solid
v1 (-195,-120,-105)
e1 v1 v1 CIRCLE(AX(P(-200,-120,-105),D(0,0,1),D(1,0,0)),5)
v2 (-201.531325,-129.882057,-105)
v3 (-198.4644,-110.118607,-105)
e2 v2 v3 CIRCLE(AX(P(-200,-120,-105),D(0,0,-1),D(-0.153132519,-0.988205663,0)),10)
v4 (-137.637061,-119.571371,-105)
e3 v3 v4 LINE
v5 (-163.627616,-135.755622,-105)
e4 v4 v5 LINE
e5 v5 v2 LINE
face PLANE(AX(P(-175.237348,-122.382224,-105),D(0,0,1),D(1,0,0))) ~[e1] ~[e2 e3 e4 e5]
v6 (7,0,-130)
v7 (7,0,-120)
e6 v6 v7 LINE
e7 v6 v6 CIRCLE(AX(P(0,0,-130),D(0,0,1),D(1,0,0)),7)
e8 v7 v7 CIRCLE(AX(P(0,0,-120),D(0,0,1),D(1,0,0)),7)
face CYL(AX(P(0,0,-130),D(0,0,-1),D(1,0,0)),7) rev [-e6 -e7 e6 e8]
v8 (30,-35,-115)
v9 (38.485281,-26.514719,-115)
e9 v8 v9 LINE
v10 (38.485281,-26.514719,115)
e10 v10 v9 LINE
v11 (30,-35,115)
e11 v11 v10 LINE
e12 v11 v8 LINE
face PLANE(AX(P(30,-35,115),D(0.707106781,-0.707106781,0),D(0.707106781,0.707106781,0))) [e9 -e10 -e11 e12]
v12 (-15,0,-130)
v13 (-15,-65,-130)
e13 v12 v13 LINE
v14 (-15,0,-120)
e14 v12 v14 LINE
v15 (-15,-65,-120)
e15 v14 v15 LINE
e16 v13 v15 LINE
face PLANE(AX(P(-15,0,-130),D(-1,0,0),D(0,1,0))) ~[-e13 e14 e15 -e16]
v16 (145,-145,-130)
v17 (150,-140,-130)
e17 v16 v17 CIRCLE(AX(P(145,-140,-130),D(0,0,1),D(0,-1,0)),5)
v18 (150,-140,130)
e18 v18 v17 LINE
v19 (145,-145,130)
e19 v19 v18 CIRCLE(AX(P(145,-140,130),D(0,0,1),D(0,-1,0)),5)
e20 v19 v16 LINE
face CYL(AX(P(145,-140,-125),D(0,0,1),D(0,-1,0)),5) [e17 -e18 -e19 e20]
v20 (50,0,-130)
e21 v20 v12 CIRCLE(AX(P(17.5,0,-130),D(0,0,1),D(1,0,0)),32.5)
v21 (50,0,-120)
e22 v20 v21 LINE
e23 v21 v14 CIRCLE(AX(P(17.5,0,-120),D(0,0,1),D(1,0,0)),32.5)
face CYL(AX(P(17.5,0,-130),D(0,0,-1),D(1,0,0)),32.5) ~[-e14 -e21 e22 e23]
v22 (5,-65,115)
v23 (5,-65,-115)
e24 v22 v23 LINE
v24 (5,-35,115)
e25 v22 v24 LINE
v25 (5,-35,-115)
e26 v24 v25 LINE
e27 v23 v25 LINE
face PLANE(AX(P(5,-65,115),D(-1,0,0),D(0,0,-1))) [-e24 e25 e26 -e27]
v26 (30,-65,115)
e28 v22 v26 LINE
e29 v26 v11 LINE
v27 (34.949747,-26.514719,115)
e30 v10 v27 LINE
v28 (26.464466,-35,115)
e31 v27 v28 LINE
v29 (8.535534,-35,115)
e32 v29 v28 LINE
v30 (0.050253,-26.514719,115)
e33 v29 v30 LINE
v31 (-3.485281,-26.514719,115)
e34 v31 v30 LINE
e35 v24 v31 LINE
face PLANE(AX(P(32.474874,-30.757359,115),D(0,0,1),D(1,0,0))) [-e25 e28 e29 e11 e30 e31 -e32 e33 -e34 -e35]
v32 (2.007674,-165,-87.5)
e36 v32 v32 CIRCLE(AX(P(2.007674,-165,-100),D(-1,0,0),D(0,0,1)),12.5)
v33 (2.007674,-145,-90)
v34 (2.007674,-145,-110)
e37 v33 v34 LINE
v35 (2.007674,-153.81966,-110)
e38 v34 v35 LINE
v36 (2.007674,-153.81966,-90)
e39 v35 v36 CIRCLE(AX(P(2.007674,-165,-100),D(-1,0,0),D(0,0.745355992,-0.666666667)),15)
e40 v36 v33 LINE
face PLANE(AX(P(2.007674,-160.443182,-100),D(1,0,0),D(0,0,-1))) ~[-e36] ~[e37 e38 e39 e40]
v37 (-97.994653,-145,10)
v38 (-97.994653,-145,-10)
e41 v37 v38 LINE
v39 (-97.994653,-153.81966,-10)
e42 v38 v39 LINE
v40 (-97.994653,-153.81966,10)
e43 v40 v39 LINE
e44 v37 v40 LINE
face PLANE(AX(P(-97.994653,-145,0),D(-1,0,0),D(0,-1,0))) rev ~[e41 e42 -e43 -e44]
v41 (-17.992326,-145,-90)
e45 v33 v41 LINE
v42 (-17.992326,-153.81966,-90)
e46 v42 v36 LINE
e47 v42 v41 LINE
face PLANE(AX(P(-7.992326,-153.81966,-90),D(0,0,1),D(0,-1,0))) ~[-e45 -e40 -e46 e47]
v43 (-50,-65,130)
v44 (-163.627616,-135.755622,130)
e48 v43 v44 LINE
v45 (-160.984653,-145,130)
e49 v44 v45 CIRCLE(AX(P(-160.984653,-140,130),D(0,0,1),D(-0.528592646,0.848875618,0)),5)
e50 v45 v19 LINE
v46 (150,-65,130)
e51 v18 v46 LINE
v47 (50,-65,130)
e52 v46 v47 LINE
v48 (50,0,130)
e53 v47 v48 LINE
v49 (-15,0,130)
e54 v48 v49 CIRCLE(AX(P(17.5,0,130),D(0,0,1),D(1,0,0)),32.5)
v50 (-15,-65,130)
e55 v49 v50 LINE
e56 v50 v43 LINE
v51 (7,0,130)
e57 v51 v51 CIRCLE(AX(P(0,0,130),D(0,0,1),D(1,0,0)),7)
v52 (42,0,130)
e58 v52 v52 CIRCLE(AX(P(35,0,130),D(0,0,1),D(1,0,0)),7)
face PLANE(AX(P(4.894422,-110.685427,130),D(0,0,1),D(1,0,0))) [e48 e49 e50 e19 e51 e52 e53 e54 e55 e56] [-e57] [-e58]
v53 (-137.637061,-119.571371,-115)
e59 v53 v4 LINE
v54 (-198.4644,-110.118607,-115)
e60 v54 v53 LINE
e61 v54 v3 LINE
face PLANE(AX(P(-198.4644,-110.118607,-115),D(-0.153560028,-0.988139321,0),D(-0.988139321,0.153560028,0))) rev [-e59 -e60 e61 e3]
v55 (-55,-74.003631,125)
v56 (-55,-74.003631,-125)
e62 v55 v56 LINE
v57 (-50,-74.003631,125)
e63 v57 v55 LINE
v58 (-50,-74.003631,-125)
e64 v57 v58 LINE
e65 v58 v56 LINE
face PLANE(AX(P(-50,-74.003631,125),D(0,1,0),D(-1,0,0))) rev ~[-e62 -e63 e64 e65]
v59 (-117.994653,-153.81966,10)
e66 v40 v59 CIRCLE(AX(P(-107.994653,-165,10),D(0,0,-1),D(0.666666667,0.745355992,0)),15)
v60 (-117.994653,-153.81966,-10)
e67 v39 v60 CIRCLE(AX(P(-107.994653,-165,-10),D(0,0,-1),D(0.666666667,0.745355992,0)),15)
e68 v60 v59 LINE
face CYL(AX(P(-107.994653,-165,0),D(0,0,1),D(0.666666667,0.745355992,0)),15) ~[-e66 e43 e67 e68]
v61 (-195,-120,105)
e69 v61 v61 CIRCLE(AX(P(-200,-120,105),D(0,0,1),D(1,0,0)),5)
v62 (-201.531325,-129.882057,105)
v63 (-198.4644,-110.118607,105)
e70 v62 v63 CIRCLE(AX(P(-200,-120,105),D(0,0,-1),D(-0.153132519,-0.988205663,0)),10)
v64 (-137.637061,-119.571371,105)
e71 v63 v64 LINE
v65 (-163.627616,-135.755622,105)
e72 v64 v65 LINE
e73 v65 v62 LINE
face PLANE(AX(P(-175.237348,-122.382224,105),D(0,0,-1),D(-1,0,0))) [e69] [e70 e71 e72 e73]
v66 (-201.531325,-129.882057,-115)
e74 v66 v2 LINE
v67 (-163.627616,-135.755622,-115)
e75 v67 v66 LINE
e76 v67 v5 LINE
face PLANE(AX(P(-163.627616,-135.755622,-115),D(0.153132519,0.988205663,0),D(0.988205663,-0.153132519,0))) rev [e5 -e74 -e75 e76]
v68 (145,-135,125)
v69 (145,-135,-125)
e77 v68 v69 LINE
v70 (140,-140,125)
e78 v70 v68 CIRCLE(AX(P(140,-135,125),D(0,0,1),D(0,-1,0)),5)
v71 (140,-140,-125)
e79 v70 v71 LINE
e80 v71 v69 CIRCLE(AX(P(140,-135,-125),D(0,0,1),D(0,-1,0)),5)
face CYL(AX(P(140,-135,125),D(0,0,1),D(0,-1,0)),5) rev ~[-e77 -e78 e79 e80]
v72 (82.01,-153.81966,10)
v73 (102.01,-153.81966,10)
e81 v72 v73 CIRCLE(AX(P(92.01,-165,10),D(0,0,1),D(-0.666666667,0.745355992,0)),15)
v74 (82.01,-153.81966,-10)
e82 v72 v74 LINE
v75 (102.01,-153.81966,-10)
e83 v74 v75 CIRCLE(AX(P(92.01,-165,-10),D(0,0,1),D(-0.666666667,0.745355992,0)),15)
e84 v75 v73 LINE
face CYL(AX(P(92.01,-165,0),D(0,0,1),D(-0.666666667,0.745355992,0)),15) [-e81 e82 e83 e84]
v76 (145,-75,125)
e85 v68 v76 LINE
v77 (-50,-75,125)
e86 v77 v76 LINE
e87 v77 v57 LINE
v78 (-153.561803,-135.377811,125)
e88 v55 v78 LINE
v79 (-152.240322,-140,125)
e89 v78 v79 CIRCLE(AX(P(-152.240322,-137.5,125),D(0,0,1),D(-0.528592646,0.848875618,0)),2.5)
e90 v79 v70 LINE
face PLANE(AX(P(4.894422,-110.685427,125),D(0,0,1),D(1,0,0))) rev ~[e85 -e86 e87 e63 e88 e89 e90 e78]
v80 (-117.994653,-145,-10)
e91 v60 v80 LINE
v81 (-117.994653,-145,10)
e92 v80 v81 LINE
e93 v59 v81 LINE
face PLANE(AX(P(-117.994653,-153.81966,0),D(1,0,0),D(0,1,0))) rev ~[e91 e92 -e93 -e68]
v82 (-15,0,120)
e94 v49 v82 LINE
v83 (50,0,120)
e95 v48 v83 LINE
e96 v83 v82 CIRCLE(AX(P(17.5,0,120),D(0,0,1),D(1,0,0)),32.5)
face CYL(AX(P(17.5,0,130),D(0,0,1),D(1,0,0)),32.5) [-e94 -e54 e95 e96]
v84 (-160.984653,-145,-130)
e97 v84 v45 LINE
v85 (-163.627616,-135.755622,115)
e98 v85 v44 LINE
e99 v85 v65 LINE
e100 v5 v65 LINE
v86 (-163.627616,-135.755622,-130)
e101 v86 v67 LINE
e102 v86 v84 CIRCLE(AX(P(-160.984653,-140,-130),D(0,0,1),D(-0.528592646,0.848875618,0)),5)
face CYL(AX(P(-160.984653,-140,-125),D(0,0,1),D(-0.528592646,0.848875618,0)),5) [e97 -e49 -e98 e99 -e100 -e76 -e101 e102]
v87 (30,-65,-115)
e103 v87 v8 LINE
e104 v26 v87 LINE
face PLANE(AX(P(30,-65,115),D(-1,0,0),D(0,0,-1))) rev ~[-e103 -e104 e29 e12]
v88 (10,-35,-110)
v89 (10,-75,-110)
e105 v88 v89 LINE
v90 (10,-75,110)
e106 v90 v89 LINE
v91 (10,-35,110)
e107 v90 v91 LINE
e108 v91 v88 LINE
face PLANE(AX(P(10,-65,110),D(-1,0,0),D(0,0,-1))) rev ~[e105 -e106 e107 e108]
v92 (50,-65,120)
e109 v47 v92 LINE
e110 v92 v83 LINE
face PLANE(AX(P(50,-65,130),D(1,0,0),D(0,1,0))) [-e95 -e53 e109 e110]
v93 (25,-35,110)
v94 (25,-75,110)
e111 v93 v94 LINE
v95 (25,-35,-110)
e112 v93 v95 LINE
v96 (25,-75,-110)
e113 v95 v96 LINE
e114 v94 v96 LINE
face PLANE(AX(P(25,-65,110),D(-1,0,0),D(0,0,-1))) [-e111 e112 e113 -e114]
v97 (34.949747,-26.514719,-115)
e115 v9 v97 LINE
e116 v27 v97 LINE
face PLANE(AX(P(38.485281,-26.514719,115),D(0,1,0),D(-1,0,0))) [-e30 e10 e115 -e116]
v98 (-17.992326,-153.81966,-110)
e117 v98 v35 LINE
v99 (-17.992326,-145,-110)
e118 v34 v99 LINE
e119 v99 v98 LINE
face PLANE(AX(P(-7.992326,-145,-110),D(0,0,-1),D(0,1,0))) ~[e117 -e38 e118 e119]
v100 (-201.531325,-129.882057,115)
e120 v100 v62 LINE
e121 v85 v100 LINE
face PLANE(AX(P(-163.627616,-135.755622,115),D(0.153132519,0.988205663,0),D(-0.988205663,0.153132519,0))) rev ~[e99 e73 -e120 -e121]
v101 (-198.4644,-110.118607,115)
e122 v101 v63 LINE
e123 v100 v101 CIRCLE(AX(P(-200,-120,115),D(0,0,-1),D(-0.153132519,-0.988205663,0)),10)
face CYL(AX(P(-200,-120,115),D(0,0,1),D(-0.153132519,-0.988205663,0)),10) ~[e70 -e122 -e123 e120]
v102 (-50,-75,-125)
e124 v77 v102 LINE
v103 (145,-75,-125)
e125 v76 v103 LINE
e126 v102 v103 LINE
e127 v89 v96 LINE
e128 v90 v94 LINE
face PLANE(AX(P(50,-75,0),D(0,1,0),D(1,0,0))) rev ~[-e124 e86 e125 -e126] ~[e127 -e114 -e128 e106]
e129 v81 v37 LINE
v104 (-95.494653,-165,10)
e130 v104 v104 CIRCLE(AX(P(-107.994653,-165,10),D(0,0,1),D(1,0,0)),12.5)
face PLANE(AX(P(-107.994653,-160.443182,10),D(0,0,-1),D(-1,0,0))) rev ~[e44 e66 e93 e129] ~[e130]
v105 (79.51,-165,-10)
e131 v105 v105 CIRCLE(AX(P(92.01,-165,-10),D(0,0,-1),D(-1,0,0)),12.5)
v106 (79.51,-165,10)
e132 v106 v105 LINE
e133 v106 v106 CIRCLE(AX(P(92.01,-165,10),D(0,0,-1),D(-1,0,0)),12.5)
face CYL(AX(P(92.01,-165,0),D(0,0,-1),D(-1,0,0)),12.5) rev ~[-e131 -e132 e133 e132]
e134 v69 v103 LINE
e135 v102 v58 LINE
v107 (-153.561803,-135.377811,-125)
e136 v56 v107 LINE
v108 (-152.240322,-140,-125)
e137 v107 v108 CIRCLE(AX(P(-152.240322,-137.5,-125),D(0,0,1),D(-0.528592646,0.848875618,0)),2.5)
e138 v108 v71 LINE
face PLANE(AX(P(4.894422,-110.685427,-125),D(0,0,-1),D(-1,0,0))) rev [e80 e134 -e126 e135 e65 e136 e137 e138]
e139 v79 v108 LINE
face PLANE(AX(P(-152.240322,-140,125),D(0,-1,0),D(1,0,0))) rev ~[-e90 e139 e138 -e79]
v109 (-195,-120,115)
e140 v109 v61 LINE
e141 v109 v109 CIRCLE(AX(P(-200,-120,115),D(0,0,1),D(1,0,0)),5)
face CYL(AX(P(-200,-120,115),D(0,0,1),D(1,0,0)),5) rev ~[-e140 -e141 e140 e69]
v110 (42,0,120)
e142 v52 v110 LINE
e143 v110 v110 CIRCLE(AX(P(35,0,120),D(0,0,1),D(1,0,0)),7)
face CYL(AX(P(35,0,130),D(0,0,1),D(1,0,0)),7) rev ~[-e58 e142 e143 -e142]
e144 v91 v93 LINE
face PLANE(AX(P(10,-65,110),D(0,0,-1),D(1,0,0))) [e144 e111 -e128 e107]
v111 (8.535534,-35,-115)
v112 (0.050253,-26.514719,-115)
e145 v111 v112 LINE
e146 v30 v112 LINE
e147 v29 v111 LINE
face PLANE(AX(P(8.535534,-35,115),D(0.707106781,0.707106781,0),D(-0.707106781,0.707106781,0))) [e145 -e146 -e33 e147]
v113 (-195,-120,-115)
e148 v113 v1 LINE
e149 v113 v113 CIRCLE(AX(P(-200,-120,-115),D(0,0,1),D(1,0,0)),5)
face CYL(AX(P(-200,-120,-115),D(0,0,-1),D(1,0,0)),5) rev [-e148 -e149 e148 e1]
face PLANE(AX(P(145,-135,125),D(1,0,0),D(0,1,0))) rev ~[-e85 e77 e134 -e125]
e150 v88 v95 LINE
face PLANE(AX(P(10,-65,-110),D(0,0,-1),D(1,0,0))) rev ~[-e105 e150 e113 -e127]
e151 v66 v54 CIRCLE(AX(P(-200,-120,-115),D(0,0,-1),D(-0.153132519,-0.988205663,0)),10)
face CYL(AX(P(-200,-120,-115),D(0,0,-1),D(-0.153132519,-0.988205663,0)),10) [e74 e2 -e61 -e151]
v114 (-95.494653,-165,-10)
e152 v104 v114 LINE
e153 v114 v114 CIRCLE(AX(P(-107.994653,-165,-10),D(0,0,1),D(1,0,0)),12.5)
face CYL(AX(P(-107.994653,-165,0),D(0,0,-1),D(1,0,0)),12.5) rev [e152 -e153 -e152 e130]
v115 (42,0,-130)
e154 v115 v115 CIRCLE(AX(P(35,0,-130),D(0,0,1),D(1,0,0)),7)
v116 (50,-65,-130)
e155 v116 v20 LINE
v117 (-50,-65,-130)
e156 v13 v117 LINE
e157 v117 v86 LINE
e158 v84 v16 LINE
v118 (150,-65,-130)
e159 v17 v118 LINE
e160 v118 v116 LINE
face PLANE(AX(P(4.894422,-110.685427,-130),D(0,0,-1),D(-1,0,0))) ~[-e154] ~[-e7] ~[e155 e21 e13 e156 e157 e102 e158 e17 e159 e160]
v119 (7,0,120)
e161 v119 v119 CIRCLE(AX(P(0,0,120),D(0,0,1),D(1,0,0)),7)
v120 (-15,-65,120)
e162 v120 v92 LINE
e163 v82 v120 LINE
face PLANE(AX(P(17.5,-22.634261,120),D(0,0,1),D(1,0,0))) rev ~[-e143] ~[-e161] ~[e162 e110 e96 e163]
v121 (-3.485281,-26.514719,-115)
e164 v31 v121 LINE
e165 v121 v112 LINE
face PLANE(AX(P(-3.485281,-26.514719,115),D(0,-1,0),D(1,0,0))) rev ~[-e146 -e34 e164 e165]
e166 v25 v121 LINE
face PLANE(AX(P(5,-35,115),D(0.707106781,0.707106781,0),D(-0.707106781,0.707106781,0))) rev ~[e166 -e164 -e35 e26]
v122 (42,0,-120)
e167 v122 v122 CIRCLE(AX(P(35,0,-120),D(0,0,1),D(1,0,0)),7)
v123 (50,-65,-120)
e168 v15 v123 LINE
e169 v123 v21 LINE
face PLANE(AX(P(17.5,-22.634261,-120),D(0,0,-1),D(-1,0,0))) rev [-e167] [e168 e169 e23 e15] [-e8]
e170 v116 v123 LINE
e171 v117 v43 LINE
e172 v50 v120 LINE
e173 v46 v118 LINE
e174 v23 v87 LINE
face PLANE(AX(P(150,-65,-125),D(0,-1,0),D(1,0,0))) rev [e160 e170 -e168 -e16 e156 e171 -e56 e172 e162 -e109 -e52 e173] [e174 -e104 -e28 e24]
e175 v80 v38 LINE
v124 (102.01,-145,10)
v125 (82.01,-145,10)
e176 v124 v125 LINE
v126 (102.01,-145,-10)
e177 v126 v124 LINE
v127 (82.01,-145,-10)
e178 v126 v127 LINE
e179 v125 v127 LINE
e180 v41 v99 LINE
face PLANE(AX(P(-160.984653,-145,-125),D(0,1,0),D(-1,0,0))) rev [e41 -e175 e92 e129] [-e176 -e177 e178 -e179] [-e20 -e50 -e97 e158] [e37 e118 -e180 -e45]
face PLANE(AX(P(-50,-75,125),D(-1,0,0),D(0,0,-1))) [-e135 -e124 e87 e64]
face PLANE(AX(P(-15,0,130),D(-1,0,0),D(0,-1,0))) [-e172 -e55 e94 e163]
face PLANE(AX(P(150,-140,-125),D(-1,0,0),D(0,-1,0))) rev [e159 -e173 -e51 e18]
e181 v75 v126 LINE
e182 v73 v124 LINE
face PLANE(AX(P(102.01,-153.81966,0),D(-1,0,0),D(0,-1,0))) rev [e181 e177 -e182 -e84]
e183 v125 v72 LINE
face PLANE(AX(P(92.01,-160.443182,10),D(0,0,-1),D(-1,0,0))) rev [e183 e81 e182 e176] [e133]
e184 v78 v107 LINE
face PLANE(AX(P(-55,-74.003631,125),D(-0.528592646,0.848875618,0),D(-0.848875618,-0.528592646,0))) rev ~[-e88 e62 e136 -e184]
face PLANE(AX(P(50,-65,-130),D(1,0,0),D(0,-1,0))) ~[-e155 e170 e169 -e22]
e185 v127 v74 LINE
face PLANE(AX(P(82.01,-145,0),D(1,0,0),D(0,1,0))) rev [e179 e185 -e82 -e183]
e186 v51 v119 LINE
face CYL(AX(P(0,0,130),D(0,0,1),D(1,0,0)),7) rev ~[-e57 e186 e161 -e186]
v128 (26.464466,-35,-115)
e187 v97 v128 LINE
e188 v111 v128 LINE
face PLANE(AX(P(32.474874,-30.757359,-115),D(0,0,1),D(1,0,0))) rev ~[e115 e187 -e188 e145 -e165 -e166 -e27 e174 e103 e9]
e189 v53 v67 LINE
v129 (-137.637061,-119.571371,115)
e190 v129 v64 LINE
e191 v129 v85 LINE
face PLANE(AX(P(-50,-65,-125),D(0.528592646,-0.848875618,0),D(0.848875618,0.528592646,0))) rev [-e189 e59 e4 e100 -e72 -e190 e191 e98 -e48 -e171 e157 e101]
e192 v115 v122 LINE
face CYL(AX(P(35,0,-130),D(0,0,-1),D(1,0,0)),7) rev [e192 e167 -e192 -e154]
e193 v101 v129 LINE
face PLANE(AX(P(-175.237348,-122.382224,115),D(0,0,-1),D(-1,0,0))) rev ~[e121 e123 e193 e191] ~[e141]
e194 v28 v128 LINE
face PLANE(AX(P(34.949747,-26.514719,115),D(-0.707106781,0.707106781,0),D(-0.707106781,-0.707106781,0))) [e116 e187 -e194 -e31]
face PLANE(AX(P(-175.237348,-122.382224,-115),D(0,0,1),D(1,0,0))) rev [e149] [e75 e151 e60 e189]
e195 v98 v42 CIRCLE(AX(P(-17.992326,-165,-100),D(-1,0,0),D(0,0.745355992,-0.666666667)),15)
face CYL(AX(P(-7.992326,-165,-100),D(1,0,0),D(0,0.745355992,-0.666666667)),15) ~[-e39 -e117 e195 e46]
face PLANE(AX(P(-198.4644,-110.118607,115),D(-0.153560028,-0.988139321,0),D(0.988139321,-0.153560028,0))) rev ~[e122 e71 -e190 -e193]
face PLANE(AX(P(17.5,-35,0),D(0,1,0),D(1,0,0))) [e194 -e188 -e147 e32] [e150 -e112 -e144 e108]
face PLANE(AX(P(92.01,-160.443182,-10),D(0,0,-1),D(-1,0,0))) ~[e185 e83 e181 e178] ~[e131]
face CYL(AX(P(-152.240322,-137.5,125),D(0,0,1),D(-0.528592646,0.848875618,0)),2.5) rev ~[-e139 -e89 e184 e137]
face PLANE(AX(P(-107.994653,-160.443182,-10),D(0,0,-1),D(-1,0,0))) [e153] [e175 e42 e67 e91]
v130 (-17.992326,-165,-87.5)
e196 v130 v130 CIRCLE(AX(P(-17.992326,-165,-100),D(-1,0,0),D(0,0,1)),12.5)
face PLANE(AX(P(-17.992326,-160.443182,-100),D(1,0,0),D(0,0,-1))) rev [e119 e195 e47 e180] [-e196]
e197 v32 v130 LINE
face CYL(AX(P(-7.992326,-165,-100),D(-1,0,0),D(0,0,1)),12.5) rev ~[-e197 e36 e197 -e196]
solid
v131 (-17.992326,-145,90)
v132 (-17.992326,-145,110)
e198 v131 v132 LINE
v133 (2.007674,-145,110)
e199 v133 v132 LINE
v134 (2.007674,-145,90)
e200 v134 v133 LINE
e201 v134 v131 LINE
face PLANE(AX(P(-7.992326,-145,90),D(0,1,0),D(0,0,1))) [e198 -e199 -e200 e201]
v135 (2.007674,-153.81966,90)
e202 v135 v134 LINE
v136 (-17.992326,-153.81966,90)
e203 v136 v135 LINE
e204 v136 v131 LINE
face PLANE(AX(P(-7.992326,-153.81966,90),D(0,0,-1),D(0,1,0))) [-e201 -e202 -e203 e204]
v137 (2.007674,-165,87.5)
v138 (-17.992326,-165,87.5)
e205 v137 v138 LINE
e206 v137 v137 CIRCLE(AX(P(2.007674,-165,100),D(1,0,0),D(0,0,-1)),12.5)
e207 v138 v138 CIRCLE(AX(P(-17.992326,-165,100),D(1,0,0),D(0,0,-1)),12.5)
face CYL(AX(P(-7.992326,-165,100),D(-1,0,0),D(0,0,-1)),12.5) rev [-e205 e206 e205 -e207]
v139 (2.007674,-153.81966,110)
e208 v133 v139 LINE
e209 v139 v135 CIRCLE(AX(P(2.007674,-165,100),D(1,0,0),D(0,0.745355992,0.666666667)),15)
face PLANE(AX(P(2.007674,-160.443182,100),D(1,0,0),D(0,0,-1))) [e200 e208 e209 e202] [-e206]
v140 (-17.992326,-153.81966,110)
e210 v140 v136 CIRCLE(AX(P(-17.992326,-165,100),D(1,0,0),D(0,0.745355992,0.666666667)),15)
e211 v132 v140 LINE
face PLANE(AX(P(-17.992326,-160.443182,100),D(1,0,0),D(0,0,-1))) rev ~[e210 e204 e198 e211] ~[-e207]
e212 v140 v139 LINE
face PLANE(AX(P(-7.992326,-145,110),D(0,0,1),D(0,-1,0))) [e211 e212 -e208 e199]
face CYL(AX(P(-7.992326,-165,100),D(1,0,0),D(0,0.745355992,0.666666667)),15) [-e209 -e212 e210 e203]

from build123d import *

# Parameters (mm, degrees)
SKETCH5_W            = 200
SKETCH5_H            = 250
SKETCH5_W_2          = 15
SKETCH5_H_2          = 220
BOSS_EXTRUDE7_DEPTH  = 10
BOSS_EXTRUDE13_DEPTH = 250
BOSS_EXTRUDE14_DEPTH = 5
SKETCH8_W            = 25
SKETCH8_H            = 230
SKETCH8_W_2          = 15
SKETCH8_H_2          = 220
BOSS_EXTRUDE15_DEPTH = 30
BOSS_EXTRUDE16_DEPTH = 230
SKETCH11_R           = 7
BOSS_EXTRUDE17_DEPTH = 10
SKETCH12_R           = 5
BOSS_EXTRUDE18_DEPTH = 10
SKETCH14_R           = 12.5
BOSS_EXTRUDE20_DEPTH = 10
SKETCH18_R           = 12.5
BOSS_EXTRUDE21_DEPTH = 10


with BuildPart() as part:
    # Sketch5 → Boss-Extrude7 (new body)
    with BuildSketch(Plane(origin=(0, -75, 0), x_dir=(1, 0, 0), z_dir=(0, 1, 0))):
        with Locations((50, 0)):
            Rectangle(SKETCH5_W, SKETCH5_H)
        with Locations((17.5, 0)):
            Rectangle(SKETCH5_W_2, SKETCH5_H_2, mode=Mode.SUBTRACT)
    extrude(amount=BOSS_EXTRUDE7_DEPTH)



with BuildPart() as body_2:
    # Sketch6 → Boss-Extrude13 (new body)
    with BuildSketch(Plane.XY.offset(125)):
        with BuildLine():
            Line((150, -75), (150, -140))
            ThreePointArc((150, -140), (148.535533906, -143.535533906), (145, -145))
            Line((145, -145), (-160.984652809, -145))
            ThreePointArc((-160.984652809, -145), (-165.792037256, -141.374428892), (-163.627616041, -135.755621912))
            Line((-163.627616041, -135.755621912), (-50, -65))
            Line((-50, -65), (-50, -74.003631477))
            Line((-50, -74.003631477), (-55, -74.003631477))
            Line((-55, -74.003631477), (-153.561803461, -135.377810956))
            ThreePointArc((-153.561803461, -135.377810956), (-154.644014069, -138.187214446), (-152.240321845, -140))
            Line((-152.240321845, -140), (140, -140))
            ThreePointArc((140, -140), (143.535533906, -138.535533906), (145, -135))
            Line((145, -135), (145, -75))
            Line((145, -75), (150, -75))
        make_face()
    extrude(amount=-BOSS_EXTRUDE13_DEPTH)


with BuildPart() as part_1:
    add(part.part)

    add(body_2.part)  # Boss-Extrude14 merges body 2
    # Sketch7 → Boss-Extrude14 (add)
    with BuildSketch(Plane.XY.offset(125)):
        with BuildLine():
            Line((150, -65), (-50, -65))
            Line((-50, -65), (-163.627616041, -135.755621912))
            ThreePointArc((-163.627616041, -135.755621912), (-165.792037256, -141.374428892), (-160.984652809, -145))
            Line((-160.984652809, -145), (145, -145))
            ThreePointArc((145, -145), (148.535533906, -143.535533906), (150, -140))
            Line((150, -140), (150, -65))
        make_face()
    boss_extrude14 = extrude(amount=BOSS_EXTRUDE14_DEPTH)

    # Mirror1: Boss-Extrude14 across plane
    add(boss_extrude14.mirror(Plane.XY))

    # Sketch8 → Boss-Extrude15 (add)
    with BuildSketch(Plane(origin=(0, -65, 0), x_dir=(1, 0, 0), z_dir=(0, 1, 0))):
        with Locations((17.5, 0)):
            Rectangle(SKETCH8_W, SKETCH8_H)
        with Locations((17.5, 0)):
            Rectangle(SKETCH8_W_2, SKETCH8_H_2, mode=Mode.SUBTRACT)
    extrude(amount=BOSS_EXTRUDE15_DEPTH)

    # Sketch9 → Boss-Extrude16 (add)
    with BuildSketch(Plane.XY.offset(115)):
        Polygon((30, -35), (38.485281374, -26.514718626), (34.949747468, -26.514718626), (30, -31.464466094), (26.464466094, -35), align=None)
        Polygon((5, -35), (-3.485281374, -26.514718626), (0.050252532, -26.514718626), (5, -31.464466094), (8.535533906, -35), align=None)
    extrude(amount=-BOSS_EXTRUDE16_DEPTH)

    # Sketch11 → Boss-Extrude17 (add)
    with BuildSketch(Plane.XY.offset(130)):
        with BuildLine():
            Line((-15, -65), (50, -65))
            Line((50, -65), (50, 0))
            ThreePointArc((50, 0), (17.5, 32.5), (-15, 0))
            Line((-15, 0), (-15, -65))
        make_face()
        Circle(SKETCH11_R, mode=Mode.SUBTRACT)
        with Locations((35, 0)):
            Circle(SKETCH11_R, mode=Mode.SUBTRACT)
    boss_extrude17 = extrude(amount=-BOSS_EXTRUDE17_DEPTH)

    # Mirror2: Boss-Extrude17 across plane
    add(boss_extrude17.mirror(Plane.XY))

    # Sketch12 → Boss-Extrude18 (add)
    with BuildSketch(Plane.XY.offset(115)):
        with BuildLine():
            Line((-198.464399722, -110.118606789), (-137.637061185, -119.571370787))
            Line((-137.637061185, -119.571370787), (-163.627616041, -135.755621912))
            Line((-163.627616041, -135.755621912), (-201.531325193, -129.882056626))
            ThreePointArc((-201.531325193, -129.882056626), (-209.881725149, -118.466537228), (-198.464399722, -110.118606789))
        make_face()
        with Locations((-200, -120)):
            Circle(SKETCH12_R, mode=Mode.SUBTRACT)
    boss_extrude18 = extrude(amount=-BOSS_EXTRUDE18_DEPTH)

    # Mirror3: Boss-Extrude18 across plane
    add(boss_extrude18.mirror(Plane.XY))


with BuildPart() as body_2_2:
    # Sketch14 → Boss-Extrude20 (new, symmetric)
    with BuildSketch(Plane(origin=(-7.992326405, 0, 0), x_dir=(0, 0, -1), z_dir=(1, 0, 0))):
        with BuildLine():
            Line((-110, -145), (-110, -153.819660113))
            ThreePointArc((-110, -153.819660113), (-100, -180), (-90, -153.819660113))
            Line((-90, -153.819660113), (-90, -145))
            Line((-90, -145), (-110, -145))
        make_face()
        with Locations((-100, -165)):
            Circle(SKETCH14_R, mode=Mode.SUBTRACT)
    boss_extrude20 = extrude(amount=BOSS_EXTRUDE20_DEPTH, both=True)


with BuildPart() as part_2:
    add(part_1.part)

    # Mirror11: Boss-Extrude20 across plane
    add(boss_extrude20.mirror(Plane.XY))

    # Sketch18 → Boss-Extrude21 (add, symmetric)
    with BuildSketch(Plane.XY):
        with BuildLine():
            Line((-117.994652809, -145), (-97.994652809, -145))
            Line((-97.994652809, -145), (-97.994652809, -153.819660113))
            ThreePointArc((-97.994652809, -153.819660113), (-107.994652809, -180), (-117.994652809, -153.819660113))
            Line((-117.994652809, -153.819660113), (-117.994652809, -145))
        make_face()
        with Locations((-107.994652809, -165)):
            Circle(SKETCH18_R, mode=Mode.SUBTRACT)
    boss_extrude21 = extrude(amount=BOSS_EXTRUDE21_DEPTH, both=True)

    # Mirror15: Boss-Extrude21 across plane
    add(boss_extrude21.mirror(Plane(origin=(-7.992326405, 0, 0), x_dir=(0, 0, 1), z_dir=(1, 0, 0))))


solid = Compound([body_2_2.part, part_2.part])
